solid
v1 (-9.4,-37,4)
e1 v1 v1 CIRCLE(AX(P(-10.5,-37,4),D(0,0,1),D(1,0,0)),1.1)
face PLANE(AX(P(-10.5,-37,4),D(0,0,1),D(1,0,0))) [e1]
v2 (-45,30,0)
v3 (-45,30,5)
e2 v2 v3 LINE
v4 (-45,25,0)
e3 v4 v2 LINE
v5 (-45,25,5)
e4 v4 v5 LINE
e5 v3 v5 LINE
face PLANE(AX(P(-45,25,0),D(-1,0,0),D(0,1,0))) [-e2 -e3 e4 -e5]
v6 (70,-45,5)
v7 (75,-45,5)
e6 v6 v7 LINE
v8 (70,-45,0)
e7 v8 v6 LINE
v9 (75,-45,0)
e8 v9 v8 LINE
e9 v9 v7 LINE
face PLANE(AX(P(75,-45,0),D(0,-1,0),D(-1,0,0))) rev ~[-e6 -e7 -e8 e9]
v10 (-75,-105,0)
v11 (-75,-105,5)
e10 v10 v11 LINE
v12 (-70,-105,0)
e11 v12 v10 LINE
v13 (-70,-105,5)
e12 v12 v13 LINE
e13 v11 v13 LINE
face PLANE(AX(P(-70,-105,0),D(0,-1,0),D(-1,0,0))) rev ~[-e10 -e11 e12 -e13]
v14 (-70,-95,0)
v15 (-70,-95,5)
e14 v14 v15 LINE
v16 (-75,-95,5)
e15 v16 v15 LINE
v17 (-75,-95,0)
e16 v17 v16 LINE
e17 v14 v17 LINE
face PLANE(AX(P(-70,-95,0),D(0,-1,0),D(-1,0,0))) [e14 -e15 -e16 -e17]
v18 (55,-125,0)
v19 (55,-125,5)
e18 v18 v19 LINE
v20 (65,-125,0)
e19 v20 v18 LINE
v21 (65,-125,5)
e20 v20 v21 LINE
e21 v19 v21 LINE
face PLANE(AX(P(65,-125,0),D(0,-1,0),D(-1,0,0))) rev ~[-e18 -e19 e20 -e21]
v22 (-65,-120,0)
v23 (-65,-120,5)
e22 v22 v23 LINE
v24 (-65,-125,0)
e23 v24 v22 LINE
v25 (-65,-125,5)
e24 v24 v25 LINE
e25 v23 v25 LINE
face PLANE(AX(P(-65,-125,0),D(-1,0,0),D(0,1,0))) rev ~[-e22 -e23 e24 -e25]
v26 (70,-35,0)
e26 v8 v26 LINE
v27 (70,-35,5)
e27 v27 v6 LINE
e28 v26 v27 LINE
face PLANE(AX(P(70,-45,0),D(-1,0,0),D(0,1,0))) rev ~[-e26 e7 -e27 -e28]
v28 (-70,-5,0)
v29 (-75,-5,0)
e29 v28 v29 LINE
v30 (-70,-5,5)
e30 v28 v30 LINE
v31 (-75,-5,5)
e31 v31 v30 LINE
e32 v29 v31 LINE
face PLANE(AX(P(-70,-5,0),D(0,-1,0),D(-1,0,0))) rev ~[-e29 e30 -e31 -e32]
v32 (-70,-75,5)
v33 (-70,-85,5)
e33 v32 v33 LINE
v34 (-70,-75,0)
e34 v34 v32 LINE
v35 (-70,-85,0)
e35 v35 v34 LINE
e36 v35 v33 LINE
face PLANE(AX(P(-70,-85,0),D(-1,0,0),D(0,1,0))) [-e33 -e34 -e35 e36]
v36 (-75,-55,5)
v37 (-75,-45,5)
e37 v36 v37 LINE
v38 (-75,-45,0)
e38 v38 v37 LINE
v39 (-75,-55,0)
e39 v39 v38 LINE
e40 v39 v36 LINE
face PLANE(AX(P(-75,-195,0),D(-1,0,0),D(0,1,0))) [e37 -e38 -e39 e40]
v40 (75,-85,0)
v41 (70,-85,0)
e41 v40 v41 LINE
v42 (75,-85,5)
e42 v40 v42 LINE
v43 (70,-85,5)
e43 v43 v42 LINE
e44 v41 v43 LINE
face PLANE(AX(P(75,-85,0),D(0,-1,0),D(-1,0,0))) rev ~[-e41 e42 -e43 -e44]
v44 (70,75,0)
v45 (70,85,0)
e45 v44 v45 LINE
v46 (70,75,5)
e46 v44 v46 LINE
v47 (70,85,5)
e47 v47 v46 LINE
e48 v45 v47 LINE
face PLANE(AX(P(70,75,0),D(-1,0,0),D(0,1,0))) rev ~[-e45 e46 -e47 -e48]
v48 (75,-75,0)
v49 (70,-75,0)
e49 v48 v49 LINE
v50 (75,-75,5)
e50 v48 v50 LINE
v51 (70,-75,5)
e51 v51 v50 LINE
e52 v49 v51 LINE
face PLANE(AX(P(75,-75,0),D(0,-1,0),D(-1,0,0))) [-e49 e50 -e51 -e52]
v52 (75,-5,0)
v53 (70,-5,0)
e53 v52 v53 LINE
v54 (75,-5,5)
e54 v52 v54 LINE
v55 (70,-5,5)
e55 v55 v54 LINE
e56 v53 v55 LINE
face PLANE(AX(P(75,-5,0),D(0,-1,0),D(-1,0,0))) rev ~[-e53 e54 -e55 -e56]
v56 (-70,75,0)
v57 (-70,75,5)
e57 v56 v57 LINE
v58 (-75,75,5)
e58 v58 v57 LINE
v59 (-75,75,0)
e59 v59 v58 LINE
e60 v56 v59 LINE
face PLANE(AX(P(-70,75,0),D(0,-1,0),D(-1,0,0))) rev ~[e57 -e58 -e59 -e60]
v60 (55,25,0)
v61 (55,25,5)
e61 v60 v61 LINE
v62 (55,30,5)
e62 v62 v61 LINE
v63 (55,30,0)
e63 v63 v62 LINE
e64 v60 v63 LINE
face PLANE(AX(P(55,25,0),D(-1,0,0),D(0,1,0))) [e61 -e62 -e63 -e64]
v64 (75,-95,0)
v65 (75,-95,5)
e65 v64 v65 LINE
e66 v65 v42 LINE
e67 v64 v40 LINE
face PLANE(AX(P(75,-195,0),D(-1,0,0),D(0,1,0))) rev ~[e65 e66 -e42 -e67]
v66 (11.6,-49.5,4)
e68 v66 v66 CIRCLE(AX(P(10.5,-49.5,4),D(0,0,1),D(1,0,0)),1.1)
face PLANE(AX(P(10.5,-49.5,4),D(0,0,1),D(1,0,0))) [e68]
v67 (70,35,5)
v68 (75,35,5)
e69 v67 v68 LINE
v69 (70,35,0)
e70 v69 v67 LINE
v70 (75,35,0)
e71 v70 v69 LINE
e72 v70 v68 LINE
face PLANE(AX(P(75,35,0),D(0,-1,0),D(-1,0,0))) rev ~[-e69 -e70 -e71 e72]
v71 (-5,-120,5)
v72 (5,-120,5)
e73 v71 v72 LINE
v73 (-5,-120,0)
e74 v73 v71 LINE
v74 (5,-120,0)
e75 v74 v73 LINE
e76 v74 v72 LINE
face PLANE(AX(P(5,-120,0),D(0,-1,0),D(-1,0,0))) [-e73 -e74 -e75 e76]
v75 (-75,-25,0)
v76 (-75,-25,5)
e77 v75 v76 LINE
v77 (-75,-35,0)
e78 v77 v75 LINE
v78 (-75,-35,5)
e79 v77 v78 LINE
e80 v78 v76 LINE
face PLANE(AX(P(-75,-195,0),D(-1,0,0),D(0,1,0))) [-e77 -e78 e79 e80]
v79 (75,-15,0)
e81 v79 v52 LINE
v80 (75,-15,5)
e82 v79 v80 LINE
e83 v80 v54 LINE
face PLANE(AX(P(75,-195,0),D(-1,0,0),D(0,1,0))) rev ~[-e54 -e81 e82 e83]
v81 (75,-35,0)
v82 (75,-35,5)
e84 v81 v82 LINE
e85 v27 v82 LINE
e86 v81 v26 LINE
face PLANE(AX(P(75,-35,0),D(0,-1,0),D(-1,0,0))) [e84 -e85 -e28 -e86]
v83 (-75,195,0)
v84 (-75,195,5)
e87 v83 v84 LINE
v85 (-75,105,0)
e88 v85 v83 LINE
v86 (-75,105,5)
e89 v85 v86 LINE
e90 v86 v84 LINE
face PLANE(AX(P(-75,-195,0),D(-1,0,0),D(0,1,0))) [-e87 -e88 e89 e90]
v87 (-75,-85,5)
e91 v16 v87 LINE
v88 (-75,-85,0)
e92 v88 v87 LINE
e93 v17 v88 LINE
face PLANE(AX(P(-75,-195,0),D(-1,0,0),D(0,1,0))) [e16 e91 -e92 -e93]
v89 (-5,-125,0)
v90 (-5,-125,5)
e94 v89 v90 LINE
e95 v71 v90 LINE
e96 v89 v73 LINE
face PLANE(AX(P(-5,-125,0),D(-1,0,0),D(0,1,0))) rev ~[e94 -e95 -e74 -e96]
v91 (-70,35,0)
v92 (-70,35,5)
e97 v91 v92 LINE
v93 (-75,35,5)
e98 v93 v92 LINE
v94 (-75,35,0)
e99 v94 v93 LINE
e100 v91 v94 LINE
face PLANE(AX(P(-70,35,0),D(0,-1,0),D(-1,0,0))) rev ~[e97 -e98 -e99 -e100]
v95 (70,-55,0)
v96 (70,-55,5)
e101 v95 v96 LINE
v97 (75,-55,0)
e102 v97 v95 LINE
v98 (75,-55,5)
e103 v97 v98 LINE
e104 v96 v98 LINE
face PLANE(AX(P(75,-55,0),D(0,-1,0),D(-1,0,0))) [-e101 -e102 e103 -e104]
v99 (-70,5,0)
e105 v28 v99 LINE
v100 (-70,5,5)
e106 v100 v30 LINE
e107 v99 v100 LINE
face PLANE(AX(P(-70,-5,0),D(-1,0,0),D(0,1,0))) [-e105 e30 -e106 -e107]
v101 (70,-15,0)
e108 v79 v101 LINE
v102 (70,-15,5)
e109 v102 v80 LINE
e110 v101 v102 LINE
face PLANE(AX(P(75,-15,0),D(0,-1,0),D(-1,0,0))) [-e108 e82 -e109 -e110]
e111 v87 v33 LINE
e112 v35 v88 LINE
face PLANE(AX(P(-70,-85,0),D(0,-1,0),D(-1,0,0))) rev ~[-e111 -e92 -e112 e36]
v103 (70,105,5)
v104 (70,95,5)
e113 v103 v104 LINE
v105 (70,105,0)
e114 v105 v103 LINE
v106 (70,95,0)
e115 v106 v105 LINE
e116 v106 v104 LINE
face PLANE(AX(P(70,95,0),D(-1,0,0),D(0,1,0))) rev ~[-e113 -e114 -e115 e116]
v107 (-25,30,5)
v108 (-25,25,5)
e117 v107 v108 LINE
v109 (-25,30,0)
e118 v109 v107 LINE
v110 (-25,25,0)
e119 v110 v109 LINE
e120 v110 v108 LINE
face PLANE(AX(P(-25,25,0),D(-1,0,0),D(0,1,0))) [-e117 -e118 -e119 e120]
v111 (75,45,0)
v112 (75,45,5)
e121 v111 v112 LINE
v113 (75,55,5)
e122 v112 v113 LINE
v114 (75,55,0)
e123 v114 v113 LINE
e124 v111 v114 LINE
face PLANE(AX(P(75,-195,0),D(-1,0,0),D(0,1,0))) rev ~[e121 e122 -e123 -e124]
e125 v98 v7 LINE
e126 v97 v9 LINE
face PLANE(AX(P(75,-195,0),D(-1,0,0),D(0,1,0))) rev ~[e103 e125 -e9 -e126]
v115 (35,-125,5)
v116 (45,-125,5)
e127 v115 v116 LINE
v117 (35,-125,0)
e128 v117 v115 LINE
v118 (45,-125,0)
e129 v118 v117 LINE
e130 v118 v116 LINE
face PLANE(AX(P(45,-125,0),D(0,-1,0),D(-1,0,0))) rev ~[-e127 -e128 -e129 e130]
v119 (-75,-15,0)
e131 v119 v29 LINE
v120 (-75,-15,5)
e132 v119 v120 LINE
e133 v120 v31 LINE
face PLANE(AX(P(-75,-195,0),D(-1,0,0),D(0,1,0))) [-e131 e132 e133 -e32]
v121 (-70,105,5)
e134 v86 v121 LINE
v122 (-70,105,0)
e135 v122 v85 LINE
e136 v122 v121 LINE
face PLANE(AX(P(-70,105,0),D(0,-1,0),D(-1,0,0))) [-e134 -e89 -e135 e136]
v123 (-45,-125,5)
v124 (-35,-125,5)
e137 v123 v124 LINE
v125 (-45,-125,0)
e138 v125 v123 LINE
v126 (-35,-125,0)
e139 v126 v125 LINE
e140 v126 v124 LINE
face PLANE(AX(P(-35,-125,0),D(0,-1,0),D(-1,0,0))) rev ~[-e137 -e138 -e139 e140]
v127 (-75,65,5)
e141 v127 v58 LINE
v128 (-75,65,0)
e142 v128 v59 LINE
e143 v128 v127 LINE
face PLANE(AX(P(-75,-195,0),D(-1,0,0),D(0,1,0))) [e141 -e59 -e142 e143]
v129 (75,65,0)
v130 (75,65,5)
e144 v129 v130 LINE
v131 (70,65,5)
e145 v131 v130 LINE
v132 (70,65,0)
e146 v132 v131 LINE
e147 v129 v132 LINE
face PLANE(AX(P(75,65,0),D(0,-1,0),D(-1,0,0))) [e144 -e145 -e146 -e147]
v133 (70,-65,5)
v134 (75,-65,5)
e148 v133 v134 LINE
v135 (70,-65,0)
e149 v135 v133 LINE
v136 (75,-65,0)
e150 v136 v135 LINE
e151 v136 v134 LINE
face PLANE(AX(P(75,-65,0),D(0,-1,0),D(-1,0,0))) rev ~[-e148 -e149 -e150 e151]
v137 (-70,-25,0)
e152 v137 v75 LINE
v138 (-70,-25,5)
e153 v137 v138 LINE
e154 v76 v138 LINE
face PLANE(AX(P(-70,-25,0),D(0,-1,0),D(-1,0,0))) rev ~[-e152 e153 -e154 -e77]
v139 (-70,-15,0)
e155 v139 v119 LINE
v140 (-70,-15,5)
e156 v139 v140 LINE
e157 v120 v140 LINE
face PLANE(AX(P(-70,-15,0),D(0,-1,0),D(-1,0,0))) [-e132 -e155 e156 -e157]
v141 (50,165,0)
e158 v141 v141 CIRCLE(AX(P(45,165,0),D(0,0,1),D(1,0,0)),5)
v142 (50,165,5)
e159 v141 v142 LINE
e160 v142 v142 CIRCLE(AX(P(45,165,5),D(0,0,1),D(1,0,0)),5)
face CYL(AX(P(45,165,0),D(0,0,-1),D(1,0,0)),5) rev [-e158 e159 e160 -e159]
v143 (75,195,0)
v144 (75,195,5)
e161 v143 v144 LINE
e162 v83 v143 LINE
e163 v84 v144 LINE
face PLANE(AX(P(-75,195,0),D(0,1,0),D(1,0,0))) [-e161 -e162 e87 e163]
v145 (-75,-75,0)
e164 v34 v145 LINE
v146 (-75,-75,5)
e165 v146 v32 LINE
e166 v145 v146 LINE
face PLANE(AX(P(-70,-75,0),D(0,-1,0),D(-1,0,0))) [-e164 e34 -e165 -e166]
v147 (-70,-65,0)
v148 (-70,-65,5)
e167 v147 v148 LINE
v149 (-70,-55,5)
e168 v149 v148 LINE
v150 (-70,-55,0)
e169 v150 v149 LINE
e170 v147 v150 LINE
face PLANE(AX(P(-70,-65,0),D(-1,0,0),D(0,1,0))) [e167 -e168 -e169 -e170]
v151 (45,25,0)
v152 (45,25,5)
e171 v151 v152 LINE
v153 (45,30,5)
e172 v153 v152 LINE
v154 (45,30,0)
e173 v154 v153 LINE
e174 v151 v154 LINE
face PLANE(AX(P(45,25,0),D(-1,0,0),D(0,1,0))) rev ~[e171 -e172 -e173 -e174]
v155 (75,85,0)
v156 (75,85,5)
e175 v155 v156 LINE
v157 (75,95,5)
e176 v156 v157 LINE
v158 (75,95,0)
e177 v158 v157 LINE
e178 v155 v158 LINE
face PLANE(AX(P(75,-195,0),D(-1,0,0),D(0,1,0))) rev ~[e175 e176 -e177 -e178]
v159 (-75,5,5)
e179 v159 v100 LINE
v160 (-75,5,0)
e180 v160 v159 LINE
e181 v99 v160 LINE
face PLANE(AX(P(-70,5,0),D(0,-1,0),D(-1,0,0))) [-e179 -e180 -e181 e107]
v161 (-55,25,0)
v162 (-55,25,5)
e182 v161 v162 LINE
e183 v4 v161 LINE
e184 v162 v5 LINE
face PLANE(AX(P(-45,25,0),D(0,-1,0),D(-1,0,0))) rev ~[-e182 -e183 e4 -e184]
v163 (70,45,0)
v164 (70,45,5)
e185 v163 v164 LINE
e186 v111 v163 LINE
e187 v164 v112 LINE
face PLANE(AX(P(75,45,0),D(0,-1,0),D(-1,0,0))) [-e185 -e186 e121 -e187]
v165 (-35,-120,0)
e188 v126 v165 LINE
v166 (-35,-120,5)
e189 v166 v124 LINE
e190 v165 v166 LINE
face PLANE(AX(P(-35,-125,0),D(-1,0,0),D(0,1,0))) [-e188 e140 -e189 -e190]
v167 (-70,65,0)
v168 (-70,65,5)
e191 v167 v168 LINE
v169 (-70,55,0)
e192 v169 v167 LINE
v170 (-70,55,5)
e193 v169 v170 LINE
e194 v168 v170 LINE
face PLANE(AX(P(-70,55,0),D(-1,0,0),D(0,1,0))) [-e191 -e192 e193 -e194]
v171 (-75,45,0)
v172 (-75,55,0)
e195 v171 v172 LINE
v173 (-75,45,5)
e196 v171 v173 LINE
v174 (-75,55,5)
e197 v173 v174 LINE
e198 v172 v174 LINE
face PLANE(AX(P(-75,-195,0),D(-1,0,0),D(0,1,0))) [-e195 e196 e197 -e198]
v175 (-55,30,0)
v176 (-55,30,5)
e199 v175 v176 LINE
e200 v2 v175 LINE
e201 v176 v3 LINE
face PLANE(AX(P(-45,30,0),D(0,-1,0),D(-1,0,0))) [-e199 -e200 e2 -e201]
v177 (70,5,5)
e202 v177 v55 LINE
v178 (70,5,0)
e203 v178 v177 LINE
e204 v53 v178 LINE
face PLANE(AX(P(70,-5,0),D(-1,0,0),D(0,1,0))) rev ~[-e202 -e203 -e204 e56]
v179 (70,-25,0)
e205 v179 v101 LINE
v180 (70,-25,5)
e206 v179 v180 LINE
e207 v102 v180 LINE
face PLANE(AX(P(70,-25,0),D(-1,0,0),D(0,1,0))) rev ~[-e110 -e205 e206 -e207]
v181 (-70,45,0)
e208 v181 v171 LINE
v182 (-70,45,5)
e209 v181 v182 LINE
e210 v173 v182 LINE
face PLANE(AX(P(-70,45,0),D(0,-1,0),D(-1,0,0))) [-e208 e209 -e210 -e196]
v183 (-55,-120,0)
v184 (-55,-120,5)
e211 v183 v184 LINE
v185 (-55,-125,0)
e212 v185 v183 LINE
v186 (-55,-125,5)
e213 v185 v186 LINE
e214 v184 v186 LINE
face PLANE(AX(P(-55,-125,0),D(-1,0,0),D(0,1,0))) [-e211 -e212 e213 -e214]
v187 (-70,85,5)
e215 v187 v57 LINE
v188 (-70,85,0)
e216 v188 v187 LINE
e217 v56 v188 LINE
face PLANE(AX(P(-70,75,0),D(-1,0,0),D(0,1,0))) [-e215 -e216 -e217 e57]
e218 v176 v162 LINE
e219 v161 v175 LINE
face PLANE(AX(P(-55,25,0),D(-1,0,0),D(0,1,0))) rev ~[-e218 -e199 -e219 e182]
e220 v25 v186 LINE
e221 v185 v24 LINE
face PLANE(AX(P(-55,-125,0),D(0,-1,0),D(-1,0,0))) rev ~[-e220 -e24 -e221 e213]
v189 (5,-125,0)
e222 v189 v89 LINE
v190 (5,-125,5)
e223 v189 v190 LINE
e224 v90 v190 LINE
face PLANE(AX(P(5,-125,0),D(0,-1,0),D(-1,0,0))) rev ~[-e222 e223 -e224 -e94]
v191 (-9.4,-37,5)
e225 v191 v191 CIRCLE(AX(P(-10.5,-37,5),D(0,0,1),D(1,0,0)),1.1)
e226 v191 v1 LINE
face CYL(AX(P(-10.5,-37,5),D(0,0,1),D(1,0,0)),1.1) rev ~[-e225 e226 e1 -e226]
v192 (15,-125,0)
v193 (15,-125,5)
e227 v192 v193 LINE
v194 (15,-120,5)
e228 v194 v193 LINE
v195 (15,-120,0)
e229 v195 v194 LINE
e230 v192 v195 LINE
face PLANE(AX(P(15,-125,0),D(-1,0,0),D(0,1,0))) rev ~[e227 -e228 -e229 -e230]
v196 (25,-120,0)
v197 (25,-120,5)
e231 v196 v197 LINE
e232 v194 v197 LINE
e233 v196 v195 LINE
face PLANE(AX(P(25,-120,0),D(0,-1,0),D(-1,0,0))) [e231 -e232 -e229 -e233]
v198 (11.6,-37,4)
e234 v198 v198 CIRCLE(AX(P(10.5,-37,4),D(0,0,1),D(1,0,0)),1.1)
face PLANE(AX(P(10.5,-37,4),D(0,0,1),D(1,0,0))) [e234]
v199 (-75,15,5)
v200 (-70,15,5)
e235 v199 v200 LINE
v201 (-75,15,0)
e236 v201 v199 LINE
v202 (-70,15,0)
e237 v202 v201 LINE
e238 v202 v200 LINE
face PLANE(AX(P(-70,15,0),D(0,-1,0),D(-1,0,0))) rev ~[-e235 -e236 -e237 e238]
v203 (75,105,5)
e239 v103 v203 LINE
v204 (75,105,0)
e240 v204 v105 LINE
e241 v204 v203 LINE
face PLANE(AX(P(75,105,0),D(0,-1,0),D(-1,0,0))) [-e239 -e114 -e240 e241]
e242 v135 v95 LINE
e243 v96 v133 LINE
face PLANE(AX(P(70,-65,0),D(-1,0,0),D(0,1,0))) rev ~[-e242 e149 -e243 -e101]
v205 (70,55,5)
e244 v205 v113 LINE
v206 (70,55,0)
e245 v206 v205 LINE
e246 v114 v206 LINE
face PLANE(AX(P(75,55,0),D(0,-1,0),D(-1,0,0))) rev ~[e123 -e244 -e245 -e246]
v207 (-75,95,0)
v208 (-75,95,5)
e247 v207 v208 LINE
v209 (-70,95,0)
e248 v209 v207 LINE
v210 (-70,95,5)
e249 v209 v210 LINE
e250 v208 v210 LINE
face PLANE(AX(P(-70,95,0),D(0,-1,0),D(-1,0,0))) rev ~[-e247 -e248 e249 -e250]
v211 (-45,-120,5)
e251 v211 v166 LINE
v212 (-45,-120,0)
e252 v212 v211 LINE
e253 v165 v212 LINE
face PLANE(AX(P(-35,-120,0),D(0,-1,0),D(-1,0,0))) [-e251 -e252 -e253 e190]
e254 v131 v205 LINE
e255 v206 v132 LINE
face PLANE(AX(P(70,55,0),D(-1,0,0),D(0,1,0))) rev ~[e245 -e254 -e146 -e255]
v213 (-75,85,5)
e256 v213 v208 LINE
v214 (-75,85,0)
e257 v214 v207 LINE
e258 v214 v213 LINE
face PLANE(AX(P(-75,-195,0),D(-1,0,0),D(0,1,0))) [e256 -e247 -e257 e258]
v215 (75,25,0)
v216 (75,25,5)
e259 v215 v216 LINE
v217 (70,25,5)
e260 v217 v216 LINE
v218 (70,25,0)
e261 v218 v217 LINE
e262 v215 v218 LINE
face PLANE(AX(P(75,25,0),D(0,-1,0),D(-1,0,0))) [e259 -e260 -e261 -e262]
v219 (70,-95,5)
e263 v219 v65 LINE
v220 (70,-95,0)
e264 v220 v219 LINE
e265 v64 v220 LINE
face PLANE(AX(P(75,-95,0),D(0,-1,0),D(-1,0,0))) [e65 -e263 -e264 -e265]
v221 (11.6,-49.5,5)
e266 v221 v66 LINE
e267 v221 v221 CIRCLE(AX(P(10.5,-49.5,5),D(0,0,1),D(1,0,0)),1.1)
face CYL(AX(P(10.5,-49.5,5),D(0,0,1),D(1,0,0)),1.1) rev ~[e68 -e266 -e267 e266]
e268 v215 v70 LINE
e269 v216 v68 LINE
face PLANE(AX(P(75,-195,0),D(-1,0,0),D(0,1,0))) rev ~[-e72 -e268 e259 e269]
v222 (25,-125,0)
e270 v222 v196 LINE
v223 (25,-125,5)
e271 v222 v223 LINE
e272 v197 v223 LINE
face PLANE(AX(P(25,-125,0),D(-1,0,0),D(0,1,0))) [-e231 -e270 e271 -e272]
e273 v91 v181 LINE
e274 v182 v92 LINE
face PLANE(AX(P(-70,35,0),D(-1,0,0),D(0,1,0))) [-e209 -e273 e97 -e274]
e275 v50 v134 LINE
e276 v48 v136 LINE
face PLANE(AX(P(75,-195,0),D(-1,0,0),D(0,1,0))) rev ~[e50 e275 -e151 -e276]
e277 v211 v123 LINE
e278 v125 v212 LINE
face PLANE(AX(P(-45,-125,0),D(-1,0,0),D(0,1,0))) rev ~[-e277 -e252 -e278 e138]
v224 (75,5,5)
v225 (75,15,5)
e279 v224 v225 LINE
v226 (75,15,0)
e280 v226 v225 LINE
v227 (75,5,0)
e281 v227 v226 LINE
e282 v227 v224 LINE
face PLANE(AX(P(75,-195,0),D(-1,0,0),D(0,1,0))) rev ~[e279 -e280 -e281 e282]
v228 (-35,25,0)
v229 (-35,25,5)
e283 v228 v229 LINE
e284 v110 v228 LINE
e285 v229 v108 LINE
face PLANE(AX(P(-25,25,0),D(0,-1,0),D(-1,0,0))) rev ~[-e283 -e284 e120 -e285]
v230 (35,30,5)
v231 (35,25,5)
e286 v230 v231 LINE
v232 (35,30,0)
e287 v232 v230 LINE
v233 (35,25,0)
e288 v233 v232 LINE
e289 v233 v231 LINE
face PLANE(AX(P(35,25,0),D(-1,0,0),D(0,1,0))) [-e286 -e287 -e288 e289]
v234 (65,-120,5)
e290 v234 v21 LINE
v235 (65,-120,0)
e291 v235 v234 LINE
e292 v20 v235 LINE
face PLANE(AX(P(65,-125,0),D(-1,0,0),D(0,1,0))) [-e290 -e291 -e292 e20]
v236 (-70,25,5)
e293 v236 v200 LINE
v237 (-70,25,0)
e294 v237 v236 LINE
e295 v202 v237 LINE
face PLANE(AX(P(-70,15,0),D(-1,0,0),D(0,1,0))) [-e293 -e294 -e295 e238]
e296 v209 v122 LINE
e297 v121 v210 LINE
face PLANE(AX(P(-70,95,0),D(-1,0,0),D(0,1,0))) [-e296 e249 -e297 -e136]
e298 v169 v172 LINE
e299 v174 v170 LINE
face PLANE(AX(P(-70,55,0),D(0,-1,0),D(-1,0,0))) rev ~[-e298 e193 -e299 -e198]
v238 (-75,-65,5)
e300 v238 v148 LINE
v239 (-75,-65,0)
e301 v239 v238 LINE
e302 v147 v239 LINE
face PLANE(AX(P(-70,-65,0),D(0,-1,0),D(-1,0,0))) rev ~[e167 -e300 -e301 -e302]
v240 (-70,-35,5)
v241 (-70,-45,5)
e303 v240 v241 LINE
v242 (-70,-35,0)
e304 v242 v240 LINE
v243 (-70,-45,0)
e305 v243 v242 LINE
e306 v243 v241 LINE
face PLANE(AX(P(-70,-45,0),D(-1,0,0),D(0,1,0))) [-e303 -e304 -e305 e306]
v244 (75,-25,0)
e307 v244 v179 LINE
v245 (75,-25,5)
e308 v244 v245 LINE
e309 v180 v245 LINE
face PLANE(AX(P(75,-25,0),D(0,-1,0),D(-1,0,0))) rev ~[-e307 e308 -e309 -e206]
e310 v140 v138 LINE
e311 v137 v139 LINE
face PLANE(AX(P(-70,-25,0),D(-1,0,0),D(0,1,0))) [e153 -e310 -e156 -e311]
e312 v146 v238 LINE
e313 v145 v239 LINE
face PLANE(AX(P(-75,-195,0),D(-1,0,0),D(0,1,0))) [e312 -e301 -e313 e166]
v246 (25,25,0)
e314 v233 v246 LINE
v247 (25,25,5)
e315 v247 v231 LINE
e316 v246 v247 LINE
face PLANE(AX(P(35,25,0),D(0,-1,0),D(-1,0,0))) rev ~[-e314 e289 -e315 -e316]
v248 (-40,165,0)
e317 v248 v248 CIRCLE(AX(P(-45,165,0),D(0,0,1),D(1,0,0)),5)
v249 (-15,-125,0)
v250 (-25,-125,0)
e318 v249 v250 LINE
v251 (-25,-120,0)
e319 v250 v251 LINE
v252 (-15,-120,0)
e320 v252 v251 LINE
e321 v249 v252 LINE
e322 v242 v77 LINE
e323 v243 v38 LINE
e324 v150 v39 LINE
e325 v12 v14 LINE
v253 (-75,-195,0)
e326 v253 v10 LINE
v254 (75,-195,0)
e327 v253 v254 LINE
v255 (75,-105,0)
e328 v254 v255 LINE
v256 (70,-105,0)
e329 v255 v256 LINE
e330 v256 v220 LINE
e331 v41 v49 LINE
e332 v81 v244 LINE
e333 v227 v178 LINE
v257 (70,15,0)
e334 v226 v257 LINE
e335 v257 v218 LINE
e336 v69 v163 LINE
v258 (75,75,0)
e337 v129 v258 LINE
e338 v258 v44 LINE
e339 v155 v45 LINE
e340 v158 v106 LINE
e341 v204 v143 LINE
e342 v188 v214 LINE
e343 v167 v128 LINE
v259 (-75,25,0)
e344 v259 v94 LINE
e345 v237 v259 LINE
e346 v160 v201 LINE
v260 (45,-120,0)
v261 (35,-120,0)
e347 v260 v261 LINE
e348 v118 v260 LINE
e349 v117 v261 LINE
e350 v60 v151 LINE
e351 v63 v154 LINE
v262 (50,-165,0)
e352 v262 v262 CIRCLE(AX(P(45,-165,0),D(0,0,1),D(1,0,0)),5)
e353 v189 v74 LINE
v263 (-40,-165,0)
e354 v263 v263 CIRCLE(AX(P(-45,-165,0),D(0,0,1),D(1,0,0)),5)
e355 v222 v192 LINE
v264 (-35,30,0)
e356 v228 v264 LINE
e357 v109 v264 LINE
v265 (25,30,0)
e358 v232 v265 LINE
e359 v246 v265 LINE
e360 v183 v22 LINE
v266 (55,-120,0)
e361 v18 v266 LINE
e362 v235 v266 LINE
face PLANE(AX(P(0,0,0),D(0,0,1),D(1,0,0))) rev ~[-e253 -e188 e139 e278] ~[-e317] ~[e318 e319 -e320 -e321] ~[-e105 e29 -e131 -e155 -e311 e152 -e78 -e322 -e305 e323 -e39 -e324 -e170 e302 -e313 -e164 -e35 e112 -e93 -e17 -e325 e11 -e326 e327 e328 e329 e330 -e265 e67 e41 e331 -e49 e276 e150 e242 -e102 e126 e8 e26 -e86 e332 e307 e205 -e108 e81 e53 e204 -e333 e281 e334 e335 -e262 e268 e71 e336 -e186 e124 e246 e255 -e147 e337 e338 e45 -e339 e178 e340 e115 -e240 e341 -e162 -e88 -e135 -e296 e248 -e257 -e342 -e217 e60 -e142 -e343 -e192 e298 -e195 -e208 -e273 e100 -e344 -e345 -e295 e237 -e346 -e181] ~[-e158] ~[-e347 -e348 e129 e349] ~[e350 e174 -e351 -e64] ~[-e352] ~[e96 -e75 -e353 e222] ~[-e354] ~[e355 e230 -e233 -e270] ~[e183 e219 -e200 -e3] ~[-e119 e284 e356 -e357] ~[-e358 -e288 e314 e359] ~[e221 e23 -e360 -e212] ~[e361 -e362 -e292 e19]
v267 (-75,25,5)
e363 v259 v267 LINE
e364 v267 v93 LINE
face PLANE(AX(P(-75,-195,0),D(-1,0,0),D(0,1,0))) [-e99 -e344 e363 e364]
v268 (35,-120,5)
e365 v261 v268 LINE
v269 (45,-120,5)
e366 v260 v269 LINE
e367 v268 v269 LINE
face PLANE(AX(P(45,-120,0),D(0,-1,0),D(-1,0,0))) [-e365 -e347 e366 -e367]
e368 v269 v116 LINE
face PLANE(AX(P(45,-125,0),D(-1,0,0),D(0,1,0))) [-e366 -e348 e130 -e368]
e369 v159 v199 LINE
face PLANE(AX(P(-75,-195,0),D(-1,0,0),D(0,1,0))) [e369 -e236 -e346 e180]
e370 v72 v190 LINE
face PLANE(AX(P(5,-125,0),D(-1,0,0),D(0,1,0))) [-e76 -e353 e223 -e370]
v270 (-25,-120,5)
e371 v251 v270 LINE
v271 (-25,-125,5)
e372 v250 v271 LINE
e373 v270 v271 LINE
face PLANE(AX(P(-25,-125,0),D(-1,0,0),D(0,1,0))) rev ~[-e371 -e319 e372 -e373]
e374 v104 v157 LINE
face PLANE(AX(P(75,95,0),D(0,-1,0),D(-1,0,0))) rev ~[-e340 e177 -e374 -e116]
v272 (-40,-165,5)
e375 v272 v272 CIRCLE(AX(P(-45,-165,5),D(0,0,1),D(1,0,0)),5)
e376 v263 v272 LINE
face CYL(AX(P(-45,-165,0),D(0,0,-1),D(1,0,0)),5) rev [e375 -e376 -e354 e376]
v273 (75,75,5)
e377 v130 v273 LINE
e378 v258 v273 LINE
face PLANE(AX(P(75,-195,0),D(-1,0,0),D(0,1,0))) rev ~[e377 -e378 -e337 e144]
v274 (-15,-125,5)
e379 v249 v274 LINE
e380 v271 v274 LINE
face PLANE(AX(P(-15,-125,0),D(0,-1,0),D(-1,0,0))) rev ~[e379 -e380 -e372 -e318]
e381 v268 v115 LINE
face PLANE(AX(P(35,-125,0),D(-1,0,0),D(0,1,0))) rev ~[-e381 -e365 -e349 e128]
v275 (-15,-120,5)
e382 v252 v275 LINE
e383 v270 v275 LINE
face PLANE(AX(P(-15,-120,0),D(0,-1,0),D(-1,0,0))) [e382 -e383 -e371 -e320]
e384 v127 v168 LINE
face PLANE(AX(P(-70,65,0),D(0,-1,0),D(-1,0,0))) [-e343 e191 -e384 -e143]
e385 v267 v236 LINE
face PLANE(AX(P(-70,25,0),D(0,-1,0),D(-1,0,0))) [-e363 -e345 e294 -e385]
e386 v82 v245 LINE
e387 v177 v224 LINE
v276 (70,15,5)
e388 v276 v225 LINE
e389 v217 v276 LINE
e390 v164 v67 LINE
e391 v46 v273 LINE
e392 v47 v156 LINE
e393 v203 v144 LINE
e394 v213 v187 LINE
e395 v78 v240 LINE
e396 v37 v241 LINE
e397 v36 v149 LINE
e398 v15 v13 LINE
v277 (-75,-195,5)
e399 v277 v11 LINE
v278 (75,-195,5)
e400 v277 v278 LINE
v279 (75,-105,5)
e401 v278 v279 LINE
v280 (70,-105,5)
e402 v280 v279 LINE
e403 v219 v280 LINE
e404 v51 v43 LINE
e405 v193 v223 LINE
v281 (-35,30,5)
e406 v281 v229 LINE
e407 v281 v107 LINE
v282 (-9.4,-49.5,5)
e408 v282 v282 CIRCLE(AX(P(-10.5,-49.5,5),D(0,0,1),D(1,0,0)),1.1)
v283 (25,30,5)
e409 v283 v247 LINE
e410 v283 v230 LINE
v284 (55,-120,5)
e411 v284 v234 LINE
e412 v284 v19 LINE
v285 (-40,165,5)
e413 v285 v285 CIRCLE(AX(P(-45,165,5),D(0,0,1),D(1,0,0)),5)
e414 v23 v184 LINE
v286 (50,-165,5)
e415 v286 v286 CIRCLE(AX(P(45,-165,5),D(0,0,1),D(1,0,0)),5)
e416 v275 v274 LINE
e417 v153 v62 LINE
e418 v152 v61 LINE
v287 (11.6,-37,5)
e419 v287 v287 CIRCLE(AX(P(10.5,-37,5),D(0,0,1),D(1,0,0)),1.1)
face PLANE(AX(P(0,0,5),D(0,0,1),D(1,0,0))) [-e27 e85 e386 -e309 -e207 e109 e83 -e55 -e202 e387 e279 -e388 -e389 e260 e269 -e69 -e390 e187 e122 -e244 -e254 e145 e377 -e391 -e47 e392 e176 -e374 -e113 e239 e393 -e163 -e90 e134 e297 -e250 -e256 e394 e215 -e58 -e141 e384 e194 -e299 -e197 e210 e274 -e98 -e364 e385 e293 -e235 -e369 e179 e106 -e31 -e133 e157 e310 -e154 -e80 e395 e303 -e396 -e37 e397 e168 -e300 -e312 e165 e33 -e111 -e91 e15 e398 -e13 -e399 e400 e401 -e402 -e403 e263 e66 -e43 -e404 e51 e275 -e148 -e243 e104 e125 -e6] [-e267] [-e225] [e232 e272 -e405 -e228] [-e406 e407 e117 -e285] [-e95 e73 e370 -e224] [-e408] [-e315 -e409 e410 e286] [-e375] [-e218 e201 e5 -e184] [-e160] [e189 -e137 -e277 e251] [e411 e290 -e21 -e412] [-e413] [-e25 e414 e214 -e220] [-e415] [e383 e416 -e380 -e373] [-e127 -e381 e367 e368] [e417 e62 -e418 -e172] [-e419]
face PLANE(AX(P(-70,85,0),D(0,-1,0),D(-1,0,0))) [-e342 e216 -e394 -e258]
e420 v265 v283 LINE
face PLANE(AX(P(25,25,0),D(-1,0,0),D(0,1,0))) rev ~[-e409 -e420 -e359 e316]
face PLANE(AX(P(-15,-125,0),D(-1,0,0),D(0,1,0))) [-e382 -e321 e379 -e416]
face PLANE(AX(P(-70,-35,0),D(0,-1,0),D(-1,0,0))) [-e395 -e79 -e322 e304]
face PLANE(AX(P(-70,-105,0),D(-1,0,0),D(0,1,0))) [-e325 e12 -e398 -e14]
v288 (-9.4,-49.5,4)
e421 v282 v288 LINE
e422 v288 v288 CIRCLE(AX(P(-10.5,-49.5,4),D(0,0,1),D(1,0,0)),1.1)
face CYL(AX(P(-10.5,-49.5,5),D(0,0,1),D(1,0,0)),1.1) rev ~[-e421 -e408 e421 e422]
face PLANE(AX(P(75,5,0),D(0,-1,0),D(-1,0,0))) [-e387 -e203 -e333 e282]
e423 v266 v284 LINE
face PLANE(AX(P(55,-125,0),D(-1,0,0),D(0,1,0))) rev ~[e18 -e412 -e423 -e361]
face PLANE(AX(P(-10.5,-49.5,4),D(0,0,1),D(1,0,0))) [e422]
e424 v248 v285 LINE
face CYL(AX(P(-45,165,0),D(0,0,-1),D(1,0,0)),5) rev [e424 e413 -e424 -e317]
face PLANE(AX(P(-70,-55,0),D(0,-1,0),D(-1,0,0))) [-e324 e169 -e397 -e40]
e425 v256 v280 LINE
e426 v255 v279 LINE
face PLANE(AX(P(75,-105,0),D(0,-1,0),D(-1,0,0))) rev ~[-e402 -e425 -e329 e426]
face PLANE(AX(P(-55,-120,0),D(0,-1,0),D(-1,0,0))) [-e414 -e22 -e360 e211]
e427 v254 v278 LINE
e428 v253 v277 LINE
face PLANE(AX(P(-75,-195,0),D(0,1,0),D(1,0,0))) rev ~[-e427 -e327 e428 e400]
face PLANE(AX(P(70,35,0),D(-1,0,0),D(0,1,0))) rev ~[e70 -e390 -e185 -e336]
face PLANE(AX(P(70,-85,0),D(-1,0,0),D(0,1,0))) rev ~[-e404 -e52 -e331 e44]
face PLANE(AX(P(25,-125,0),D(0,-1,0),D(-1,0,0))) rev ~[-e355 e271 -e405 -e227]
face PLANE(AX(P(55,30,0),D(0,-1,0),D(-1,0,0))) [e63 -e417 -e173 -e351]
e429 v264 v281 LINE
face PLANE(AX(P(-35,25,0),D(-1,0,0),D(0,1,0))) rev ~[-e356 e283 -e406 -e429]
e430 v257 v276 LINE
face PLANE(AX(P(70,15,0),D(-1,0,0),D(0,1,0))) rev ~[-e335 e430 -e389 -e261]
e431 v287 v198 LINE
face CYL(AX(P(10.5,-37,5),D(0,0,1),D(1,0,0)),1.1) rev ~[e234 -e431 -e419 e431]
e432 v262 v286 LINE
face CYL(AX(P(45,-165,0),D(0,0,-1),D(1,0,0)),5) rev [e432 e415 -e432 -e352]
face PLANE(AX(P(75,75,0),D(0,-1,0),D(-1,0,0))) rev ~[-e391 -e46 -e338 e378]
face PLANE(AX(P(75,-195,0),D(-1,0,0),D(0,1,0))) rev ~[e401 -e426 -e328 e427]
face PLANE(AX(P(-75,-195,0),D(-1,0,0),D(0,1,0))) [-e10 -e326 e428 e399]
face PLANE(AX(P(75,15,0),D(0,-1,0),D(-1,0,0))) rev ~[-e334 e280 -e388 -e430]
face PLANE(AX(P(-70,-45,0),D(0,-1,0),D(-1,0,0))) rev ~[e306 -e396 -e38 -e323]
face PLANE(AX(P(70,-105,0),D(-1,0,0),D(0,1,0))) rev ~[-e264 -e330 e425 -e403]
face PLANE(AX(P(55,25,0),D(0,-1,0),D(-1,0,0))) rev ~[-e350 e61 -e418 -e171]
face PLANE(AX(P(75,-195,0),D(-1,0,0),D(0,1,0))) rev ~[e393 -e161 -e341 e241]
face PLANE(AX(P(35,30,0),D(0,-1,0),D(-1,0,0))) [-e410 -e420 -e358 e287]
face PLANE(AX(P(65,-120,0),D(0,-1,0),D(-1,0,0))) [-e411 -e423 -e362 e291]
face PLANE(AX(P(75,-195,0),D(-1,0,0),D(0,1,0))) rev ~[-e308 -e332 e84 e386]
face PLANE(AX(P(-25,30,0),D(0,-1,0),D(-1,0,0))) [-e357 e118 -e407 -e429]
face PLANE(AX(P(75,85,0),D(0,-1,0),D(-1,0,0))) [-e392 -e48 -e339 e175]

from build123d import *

# Parameters (mm, degrees)
CROQUIS1_W              = 150
CROQUIS1_H              = 390
CROQUIS1_R              = 5
SALIENTE_EXTRUIR1_DEPTH = 5
CROQUIS3_W              = 5
CROQUIS3_H              = 10
CROQUIS3_W_2            = 10
CROQUIS3_H_2            = 5
CORTAR_EXTRUIR1_DEPTH   = 10
CROQUIS4_W              = 10
CROQUIS4_H              = 5
CORTAR_EXTRUIR2_DEPTH   = 10
CROQUIS6_R              = 1.1
CORTAR_EXTRUIR7_DEPTH   = 1


with BuildPart() as part:
    # Croquis1 → Saliente-Extruir1 (new body)
    with BuildSketch(Plane.XY):
        Rectangle(CROQUIS1_W, CROQUIS1_H)
        with Locations((-45, 165)):
            Circle(CROQUIS1_R, mode=Mode.SUBTRACT)
        with Locations((45, 165)):
            Circle(CROQUIS1_R, mode=Mode.SUBTRACT)
        with Locations((-45, -165)):
            Circle(CROQUIS1_R, mode=Mode.SUBTRACT)
        with Locations((45, -165)):
            Circle(CROQUIS1_R, mode=Mode.SUBTRACT)
    extrude(amount=SALIENTE_EXTRUIR1_DEPTH)

    # Croquis3 → Cortar-Extruir1 (cut)
    with BuildSketch(Plane(origin=(0, 0, 0), x_dir=(-1, 0, 0), z_dir=(0, 0, -1))):
        with Locations((-72.5, 100)):
            Rectangle(CROQUIS3_W, CROQUIS3_H)
        with Locations((-72.5, 80)):
            Rectangle(CROQUIS3_W, CROQUIS3_H)
        with Locations((-72.5, 60)):
            Rectangle(CROQUIS3_W, CROQUIS3_H)
        with Locations((-72.5, 40)):
            Rectangle(CROQUIS3_W, CROQUIS3_H)
        with Locations((-72.5, 20)):
            Rectangle(CROQUIS3_W, CROQUIS3_H)
        with Locations((-72.5, 0)):
            Rectangle(CROQUIS3_W, CROQUIS3_H)
        with Locations((-72.5, -20)):
            Rectangle(CROQUIS3_W, CROQUIS3_H)
        with Locations((-72.5, -40)):
            Rectangle(CROQUIS3_W, CROQUIS3_H)
        with Locations((-72.5, -60)):
            Rectangle(CROQUIS3_W, CROQUIS3_H)
        with Locations((-72.5, -80)):
            Rectangle(CROQUIS3_W, CROQUIS3_H)
        with Locations((-72.5, -100)):
            Rectangle(CROQUIS3_W, CROQUIS3_H)
        with Locations((72.5, -100)):
            Rectangle(CROQUIS3_W, CROQUIS3_H)
        with Locations((72.5, -80)):
            Rectangle(CROQUIS3_W, CROQUIS3_H)
        with Locations((72.5, -60)):
            Rectangle(CROQUIS3_W, CROQUIS3_H)
        with Locations((72.5, -40)):
            Rectangle(CROQUIS3_W, CROQUIS3_H)
        with Locations((72.5, -20)):
            Rectangle(CROQUIS3_W, CROQUIS3_H)
        with Locations((72.5, 0)):
            Rectangle(CROQUIS3_W, CROQUIS3_H)
        with Locations((72.5, 20)):
            Rectangle(CROQUIS3_W, CROQUIS3_H)
        with Locations((72.5, 40)):
            Rectangle(CROQUIS3_W, CROQUIS3_H)
        with Locations((72.5, 60)):
            Rectangle(CROQUIS3_W, CROQUIS3_H)
        with Locations((72.5, 80)):
            Rectangle(CROQUIS3_W, CROQUIS3_H)
        with Locations((72.5, 100)):
            Rectangle(CROQUIS3_W, CROQUIS3_H)
        with Locations((-40, -122.5)):
            Rectangle(CROQUIS3_W_2, CROQUIS3_H_2)
        with Locations((-60, -122.5)):
            Rectangle(CROQUIS3_W_2, CROQUIS3_H_2)
        with Locations((-20, -122.5)):
            Rectangle(CROQUIS3_W_2, CROQUIS3_H_2)
        with Locations((0, -122.5)):
            Rectangle(CROQUIS3_W_2, CROQUIS3_H_2)
        with Locations((20, -122.5)):
            Rectangle(CROQUIS3_W_2, CROQUIS3_H_2)
        with Locations((40, -122.5)):
            Rectangle(CROQUIS3_W_2, CROQUIS3_H_2)
        with Locations((60, -122.5)):
            Rectangle(CROQUIS3_W_2, CROQUIS3_H_2)
    extrude(amount=-CORTAR_EXTRUIR1_DEPTH, mode=Mode.SUBTRACT)

    # Croquis4 → Cortar-Extruir2 (cut)
    with BuildSketch(Plane(origin=(0, 0, 0), x_dir=(-1, 0, 0), z_dir=(0, 0, -1))):
        with Locations((-50, 27.5)):
            Rectangle(CROQUIS4_W, CROQUIS4_H)
        with Locations((-30, 27.5)):
            Rectangle(CROQUIS4_W, CROQUIS4_H)
        with Locations((30, 27.5)):
            Rectangle(CROQUIS4_W, CROQUIS4_H)
        with Locations((50, 27.5)):
            Rectangle(CROQUIS4_W, CROQUIS4_H)
    extrude(amount=-CORTAR_EXTRUIR2_DEPTH, mode=Mode.SUBTRACT)

    # Croquis6 → Cortar-Extruir7 (cut)
    with BuildSketch(Plane.XY.offset(5)):
        with Locations((-10.5, -37)):
            Circle(CROQUIS6_R)
        with Locations((10.5, -37)):
            Circle(CROQUIS6_R)
        with Locations((10.5, -49.5)):
            Circle(CROQUIS6_R)
        with Locations((-10.5, -49.5)):
            Circle(CROQUIS6_R)
    extrude(amount=-CORTAR_EXTRUIR7_DEPTH, mode=Mode.SUBTRACT)


solid = part.part
